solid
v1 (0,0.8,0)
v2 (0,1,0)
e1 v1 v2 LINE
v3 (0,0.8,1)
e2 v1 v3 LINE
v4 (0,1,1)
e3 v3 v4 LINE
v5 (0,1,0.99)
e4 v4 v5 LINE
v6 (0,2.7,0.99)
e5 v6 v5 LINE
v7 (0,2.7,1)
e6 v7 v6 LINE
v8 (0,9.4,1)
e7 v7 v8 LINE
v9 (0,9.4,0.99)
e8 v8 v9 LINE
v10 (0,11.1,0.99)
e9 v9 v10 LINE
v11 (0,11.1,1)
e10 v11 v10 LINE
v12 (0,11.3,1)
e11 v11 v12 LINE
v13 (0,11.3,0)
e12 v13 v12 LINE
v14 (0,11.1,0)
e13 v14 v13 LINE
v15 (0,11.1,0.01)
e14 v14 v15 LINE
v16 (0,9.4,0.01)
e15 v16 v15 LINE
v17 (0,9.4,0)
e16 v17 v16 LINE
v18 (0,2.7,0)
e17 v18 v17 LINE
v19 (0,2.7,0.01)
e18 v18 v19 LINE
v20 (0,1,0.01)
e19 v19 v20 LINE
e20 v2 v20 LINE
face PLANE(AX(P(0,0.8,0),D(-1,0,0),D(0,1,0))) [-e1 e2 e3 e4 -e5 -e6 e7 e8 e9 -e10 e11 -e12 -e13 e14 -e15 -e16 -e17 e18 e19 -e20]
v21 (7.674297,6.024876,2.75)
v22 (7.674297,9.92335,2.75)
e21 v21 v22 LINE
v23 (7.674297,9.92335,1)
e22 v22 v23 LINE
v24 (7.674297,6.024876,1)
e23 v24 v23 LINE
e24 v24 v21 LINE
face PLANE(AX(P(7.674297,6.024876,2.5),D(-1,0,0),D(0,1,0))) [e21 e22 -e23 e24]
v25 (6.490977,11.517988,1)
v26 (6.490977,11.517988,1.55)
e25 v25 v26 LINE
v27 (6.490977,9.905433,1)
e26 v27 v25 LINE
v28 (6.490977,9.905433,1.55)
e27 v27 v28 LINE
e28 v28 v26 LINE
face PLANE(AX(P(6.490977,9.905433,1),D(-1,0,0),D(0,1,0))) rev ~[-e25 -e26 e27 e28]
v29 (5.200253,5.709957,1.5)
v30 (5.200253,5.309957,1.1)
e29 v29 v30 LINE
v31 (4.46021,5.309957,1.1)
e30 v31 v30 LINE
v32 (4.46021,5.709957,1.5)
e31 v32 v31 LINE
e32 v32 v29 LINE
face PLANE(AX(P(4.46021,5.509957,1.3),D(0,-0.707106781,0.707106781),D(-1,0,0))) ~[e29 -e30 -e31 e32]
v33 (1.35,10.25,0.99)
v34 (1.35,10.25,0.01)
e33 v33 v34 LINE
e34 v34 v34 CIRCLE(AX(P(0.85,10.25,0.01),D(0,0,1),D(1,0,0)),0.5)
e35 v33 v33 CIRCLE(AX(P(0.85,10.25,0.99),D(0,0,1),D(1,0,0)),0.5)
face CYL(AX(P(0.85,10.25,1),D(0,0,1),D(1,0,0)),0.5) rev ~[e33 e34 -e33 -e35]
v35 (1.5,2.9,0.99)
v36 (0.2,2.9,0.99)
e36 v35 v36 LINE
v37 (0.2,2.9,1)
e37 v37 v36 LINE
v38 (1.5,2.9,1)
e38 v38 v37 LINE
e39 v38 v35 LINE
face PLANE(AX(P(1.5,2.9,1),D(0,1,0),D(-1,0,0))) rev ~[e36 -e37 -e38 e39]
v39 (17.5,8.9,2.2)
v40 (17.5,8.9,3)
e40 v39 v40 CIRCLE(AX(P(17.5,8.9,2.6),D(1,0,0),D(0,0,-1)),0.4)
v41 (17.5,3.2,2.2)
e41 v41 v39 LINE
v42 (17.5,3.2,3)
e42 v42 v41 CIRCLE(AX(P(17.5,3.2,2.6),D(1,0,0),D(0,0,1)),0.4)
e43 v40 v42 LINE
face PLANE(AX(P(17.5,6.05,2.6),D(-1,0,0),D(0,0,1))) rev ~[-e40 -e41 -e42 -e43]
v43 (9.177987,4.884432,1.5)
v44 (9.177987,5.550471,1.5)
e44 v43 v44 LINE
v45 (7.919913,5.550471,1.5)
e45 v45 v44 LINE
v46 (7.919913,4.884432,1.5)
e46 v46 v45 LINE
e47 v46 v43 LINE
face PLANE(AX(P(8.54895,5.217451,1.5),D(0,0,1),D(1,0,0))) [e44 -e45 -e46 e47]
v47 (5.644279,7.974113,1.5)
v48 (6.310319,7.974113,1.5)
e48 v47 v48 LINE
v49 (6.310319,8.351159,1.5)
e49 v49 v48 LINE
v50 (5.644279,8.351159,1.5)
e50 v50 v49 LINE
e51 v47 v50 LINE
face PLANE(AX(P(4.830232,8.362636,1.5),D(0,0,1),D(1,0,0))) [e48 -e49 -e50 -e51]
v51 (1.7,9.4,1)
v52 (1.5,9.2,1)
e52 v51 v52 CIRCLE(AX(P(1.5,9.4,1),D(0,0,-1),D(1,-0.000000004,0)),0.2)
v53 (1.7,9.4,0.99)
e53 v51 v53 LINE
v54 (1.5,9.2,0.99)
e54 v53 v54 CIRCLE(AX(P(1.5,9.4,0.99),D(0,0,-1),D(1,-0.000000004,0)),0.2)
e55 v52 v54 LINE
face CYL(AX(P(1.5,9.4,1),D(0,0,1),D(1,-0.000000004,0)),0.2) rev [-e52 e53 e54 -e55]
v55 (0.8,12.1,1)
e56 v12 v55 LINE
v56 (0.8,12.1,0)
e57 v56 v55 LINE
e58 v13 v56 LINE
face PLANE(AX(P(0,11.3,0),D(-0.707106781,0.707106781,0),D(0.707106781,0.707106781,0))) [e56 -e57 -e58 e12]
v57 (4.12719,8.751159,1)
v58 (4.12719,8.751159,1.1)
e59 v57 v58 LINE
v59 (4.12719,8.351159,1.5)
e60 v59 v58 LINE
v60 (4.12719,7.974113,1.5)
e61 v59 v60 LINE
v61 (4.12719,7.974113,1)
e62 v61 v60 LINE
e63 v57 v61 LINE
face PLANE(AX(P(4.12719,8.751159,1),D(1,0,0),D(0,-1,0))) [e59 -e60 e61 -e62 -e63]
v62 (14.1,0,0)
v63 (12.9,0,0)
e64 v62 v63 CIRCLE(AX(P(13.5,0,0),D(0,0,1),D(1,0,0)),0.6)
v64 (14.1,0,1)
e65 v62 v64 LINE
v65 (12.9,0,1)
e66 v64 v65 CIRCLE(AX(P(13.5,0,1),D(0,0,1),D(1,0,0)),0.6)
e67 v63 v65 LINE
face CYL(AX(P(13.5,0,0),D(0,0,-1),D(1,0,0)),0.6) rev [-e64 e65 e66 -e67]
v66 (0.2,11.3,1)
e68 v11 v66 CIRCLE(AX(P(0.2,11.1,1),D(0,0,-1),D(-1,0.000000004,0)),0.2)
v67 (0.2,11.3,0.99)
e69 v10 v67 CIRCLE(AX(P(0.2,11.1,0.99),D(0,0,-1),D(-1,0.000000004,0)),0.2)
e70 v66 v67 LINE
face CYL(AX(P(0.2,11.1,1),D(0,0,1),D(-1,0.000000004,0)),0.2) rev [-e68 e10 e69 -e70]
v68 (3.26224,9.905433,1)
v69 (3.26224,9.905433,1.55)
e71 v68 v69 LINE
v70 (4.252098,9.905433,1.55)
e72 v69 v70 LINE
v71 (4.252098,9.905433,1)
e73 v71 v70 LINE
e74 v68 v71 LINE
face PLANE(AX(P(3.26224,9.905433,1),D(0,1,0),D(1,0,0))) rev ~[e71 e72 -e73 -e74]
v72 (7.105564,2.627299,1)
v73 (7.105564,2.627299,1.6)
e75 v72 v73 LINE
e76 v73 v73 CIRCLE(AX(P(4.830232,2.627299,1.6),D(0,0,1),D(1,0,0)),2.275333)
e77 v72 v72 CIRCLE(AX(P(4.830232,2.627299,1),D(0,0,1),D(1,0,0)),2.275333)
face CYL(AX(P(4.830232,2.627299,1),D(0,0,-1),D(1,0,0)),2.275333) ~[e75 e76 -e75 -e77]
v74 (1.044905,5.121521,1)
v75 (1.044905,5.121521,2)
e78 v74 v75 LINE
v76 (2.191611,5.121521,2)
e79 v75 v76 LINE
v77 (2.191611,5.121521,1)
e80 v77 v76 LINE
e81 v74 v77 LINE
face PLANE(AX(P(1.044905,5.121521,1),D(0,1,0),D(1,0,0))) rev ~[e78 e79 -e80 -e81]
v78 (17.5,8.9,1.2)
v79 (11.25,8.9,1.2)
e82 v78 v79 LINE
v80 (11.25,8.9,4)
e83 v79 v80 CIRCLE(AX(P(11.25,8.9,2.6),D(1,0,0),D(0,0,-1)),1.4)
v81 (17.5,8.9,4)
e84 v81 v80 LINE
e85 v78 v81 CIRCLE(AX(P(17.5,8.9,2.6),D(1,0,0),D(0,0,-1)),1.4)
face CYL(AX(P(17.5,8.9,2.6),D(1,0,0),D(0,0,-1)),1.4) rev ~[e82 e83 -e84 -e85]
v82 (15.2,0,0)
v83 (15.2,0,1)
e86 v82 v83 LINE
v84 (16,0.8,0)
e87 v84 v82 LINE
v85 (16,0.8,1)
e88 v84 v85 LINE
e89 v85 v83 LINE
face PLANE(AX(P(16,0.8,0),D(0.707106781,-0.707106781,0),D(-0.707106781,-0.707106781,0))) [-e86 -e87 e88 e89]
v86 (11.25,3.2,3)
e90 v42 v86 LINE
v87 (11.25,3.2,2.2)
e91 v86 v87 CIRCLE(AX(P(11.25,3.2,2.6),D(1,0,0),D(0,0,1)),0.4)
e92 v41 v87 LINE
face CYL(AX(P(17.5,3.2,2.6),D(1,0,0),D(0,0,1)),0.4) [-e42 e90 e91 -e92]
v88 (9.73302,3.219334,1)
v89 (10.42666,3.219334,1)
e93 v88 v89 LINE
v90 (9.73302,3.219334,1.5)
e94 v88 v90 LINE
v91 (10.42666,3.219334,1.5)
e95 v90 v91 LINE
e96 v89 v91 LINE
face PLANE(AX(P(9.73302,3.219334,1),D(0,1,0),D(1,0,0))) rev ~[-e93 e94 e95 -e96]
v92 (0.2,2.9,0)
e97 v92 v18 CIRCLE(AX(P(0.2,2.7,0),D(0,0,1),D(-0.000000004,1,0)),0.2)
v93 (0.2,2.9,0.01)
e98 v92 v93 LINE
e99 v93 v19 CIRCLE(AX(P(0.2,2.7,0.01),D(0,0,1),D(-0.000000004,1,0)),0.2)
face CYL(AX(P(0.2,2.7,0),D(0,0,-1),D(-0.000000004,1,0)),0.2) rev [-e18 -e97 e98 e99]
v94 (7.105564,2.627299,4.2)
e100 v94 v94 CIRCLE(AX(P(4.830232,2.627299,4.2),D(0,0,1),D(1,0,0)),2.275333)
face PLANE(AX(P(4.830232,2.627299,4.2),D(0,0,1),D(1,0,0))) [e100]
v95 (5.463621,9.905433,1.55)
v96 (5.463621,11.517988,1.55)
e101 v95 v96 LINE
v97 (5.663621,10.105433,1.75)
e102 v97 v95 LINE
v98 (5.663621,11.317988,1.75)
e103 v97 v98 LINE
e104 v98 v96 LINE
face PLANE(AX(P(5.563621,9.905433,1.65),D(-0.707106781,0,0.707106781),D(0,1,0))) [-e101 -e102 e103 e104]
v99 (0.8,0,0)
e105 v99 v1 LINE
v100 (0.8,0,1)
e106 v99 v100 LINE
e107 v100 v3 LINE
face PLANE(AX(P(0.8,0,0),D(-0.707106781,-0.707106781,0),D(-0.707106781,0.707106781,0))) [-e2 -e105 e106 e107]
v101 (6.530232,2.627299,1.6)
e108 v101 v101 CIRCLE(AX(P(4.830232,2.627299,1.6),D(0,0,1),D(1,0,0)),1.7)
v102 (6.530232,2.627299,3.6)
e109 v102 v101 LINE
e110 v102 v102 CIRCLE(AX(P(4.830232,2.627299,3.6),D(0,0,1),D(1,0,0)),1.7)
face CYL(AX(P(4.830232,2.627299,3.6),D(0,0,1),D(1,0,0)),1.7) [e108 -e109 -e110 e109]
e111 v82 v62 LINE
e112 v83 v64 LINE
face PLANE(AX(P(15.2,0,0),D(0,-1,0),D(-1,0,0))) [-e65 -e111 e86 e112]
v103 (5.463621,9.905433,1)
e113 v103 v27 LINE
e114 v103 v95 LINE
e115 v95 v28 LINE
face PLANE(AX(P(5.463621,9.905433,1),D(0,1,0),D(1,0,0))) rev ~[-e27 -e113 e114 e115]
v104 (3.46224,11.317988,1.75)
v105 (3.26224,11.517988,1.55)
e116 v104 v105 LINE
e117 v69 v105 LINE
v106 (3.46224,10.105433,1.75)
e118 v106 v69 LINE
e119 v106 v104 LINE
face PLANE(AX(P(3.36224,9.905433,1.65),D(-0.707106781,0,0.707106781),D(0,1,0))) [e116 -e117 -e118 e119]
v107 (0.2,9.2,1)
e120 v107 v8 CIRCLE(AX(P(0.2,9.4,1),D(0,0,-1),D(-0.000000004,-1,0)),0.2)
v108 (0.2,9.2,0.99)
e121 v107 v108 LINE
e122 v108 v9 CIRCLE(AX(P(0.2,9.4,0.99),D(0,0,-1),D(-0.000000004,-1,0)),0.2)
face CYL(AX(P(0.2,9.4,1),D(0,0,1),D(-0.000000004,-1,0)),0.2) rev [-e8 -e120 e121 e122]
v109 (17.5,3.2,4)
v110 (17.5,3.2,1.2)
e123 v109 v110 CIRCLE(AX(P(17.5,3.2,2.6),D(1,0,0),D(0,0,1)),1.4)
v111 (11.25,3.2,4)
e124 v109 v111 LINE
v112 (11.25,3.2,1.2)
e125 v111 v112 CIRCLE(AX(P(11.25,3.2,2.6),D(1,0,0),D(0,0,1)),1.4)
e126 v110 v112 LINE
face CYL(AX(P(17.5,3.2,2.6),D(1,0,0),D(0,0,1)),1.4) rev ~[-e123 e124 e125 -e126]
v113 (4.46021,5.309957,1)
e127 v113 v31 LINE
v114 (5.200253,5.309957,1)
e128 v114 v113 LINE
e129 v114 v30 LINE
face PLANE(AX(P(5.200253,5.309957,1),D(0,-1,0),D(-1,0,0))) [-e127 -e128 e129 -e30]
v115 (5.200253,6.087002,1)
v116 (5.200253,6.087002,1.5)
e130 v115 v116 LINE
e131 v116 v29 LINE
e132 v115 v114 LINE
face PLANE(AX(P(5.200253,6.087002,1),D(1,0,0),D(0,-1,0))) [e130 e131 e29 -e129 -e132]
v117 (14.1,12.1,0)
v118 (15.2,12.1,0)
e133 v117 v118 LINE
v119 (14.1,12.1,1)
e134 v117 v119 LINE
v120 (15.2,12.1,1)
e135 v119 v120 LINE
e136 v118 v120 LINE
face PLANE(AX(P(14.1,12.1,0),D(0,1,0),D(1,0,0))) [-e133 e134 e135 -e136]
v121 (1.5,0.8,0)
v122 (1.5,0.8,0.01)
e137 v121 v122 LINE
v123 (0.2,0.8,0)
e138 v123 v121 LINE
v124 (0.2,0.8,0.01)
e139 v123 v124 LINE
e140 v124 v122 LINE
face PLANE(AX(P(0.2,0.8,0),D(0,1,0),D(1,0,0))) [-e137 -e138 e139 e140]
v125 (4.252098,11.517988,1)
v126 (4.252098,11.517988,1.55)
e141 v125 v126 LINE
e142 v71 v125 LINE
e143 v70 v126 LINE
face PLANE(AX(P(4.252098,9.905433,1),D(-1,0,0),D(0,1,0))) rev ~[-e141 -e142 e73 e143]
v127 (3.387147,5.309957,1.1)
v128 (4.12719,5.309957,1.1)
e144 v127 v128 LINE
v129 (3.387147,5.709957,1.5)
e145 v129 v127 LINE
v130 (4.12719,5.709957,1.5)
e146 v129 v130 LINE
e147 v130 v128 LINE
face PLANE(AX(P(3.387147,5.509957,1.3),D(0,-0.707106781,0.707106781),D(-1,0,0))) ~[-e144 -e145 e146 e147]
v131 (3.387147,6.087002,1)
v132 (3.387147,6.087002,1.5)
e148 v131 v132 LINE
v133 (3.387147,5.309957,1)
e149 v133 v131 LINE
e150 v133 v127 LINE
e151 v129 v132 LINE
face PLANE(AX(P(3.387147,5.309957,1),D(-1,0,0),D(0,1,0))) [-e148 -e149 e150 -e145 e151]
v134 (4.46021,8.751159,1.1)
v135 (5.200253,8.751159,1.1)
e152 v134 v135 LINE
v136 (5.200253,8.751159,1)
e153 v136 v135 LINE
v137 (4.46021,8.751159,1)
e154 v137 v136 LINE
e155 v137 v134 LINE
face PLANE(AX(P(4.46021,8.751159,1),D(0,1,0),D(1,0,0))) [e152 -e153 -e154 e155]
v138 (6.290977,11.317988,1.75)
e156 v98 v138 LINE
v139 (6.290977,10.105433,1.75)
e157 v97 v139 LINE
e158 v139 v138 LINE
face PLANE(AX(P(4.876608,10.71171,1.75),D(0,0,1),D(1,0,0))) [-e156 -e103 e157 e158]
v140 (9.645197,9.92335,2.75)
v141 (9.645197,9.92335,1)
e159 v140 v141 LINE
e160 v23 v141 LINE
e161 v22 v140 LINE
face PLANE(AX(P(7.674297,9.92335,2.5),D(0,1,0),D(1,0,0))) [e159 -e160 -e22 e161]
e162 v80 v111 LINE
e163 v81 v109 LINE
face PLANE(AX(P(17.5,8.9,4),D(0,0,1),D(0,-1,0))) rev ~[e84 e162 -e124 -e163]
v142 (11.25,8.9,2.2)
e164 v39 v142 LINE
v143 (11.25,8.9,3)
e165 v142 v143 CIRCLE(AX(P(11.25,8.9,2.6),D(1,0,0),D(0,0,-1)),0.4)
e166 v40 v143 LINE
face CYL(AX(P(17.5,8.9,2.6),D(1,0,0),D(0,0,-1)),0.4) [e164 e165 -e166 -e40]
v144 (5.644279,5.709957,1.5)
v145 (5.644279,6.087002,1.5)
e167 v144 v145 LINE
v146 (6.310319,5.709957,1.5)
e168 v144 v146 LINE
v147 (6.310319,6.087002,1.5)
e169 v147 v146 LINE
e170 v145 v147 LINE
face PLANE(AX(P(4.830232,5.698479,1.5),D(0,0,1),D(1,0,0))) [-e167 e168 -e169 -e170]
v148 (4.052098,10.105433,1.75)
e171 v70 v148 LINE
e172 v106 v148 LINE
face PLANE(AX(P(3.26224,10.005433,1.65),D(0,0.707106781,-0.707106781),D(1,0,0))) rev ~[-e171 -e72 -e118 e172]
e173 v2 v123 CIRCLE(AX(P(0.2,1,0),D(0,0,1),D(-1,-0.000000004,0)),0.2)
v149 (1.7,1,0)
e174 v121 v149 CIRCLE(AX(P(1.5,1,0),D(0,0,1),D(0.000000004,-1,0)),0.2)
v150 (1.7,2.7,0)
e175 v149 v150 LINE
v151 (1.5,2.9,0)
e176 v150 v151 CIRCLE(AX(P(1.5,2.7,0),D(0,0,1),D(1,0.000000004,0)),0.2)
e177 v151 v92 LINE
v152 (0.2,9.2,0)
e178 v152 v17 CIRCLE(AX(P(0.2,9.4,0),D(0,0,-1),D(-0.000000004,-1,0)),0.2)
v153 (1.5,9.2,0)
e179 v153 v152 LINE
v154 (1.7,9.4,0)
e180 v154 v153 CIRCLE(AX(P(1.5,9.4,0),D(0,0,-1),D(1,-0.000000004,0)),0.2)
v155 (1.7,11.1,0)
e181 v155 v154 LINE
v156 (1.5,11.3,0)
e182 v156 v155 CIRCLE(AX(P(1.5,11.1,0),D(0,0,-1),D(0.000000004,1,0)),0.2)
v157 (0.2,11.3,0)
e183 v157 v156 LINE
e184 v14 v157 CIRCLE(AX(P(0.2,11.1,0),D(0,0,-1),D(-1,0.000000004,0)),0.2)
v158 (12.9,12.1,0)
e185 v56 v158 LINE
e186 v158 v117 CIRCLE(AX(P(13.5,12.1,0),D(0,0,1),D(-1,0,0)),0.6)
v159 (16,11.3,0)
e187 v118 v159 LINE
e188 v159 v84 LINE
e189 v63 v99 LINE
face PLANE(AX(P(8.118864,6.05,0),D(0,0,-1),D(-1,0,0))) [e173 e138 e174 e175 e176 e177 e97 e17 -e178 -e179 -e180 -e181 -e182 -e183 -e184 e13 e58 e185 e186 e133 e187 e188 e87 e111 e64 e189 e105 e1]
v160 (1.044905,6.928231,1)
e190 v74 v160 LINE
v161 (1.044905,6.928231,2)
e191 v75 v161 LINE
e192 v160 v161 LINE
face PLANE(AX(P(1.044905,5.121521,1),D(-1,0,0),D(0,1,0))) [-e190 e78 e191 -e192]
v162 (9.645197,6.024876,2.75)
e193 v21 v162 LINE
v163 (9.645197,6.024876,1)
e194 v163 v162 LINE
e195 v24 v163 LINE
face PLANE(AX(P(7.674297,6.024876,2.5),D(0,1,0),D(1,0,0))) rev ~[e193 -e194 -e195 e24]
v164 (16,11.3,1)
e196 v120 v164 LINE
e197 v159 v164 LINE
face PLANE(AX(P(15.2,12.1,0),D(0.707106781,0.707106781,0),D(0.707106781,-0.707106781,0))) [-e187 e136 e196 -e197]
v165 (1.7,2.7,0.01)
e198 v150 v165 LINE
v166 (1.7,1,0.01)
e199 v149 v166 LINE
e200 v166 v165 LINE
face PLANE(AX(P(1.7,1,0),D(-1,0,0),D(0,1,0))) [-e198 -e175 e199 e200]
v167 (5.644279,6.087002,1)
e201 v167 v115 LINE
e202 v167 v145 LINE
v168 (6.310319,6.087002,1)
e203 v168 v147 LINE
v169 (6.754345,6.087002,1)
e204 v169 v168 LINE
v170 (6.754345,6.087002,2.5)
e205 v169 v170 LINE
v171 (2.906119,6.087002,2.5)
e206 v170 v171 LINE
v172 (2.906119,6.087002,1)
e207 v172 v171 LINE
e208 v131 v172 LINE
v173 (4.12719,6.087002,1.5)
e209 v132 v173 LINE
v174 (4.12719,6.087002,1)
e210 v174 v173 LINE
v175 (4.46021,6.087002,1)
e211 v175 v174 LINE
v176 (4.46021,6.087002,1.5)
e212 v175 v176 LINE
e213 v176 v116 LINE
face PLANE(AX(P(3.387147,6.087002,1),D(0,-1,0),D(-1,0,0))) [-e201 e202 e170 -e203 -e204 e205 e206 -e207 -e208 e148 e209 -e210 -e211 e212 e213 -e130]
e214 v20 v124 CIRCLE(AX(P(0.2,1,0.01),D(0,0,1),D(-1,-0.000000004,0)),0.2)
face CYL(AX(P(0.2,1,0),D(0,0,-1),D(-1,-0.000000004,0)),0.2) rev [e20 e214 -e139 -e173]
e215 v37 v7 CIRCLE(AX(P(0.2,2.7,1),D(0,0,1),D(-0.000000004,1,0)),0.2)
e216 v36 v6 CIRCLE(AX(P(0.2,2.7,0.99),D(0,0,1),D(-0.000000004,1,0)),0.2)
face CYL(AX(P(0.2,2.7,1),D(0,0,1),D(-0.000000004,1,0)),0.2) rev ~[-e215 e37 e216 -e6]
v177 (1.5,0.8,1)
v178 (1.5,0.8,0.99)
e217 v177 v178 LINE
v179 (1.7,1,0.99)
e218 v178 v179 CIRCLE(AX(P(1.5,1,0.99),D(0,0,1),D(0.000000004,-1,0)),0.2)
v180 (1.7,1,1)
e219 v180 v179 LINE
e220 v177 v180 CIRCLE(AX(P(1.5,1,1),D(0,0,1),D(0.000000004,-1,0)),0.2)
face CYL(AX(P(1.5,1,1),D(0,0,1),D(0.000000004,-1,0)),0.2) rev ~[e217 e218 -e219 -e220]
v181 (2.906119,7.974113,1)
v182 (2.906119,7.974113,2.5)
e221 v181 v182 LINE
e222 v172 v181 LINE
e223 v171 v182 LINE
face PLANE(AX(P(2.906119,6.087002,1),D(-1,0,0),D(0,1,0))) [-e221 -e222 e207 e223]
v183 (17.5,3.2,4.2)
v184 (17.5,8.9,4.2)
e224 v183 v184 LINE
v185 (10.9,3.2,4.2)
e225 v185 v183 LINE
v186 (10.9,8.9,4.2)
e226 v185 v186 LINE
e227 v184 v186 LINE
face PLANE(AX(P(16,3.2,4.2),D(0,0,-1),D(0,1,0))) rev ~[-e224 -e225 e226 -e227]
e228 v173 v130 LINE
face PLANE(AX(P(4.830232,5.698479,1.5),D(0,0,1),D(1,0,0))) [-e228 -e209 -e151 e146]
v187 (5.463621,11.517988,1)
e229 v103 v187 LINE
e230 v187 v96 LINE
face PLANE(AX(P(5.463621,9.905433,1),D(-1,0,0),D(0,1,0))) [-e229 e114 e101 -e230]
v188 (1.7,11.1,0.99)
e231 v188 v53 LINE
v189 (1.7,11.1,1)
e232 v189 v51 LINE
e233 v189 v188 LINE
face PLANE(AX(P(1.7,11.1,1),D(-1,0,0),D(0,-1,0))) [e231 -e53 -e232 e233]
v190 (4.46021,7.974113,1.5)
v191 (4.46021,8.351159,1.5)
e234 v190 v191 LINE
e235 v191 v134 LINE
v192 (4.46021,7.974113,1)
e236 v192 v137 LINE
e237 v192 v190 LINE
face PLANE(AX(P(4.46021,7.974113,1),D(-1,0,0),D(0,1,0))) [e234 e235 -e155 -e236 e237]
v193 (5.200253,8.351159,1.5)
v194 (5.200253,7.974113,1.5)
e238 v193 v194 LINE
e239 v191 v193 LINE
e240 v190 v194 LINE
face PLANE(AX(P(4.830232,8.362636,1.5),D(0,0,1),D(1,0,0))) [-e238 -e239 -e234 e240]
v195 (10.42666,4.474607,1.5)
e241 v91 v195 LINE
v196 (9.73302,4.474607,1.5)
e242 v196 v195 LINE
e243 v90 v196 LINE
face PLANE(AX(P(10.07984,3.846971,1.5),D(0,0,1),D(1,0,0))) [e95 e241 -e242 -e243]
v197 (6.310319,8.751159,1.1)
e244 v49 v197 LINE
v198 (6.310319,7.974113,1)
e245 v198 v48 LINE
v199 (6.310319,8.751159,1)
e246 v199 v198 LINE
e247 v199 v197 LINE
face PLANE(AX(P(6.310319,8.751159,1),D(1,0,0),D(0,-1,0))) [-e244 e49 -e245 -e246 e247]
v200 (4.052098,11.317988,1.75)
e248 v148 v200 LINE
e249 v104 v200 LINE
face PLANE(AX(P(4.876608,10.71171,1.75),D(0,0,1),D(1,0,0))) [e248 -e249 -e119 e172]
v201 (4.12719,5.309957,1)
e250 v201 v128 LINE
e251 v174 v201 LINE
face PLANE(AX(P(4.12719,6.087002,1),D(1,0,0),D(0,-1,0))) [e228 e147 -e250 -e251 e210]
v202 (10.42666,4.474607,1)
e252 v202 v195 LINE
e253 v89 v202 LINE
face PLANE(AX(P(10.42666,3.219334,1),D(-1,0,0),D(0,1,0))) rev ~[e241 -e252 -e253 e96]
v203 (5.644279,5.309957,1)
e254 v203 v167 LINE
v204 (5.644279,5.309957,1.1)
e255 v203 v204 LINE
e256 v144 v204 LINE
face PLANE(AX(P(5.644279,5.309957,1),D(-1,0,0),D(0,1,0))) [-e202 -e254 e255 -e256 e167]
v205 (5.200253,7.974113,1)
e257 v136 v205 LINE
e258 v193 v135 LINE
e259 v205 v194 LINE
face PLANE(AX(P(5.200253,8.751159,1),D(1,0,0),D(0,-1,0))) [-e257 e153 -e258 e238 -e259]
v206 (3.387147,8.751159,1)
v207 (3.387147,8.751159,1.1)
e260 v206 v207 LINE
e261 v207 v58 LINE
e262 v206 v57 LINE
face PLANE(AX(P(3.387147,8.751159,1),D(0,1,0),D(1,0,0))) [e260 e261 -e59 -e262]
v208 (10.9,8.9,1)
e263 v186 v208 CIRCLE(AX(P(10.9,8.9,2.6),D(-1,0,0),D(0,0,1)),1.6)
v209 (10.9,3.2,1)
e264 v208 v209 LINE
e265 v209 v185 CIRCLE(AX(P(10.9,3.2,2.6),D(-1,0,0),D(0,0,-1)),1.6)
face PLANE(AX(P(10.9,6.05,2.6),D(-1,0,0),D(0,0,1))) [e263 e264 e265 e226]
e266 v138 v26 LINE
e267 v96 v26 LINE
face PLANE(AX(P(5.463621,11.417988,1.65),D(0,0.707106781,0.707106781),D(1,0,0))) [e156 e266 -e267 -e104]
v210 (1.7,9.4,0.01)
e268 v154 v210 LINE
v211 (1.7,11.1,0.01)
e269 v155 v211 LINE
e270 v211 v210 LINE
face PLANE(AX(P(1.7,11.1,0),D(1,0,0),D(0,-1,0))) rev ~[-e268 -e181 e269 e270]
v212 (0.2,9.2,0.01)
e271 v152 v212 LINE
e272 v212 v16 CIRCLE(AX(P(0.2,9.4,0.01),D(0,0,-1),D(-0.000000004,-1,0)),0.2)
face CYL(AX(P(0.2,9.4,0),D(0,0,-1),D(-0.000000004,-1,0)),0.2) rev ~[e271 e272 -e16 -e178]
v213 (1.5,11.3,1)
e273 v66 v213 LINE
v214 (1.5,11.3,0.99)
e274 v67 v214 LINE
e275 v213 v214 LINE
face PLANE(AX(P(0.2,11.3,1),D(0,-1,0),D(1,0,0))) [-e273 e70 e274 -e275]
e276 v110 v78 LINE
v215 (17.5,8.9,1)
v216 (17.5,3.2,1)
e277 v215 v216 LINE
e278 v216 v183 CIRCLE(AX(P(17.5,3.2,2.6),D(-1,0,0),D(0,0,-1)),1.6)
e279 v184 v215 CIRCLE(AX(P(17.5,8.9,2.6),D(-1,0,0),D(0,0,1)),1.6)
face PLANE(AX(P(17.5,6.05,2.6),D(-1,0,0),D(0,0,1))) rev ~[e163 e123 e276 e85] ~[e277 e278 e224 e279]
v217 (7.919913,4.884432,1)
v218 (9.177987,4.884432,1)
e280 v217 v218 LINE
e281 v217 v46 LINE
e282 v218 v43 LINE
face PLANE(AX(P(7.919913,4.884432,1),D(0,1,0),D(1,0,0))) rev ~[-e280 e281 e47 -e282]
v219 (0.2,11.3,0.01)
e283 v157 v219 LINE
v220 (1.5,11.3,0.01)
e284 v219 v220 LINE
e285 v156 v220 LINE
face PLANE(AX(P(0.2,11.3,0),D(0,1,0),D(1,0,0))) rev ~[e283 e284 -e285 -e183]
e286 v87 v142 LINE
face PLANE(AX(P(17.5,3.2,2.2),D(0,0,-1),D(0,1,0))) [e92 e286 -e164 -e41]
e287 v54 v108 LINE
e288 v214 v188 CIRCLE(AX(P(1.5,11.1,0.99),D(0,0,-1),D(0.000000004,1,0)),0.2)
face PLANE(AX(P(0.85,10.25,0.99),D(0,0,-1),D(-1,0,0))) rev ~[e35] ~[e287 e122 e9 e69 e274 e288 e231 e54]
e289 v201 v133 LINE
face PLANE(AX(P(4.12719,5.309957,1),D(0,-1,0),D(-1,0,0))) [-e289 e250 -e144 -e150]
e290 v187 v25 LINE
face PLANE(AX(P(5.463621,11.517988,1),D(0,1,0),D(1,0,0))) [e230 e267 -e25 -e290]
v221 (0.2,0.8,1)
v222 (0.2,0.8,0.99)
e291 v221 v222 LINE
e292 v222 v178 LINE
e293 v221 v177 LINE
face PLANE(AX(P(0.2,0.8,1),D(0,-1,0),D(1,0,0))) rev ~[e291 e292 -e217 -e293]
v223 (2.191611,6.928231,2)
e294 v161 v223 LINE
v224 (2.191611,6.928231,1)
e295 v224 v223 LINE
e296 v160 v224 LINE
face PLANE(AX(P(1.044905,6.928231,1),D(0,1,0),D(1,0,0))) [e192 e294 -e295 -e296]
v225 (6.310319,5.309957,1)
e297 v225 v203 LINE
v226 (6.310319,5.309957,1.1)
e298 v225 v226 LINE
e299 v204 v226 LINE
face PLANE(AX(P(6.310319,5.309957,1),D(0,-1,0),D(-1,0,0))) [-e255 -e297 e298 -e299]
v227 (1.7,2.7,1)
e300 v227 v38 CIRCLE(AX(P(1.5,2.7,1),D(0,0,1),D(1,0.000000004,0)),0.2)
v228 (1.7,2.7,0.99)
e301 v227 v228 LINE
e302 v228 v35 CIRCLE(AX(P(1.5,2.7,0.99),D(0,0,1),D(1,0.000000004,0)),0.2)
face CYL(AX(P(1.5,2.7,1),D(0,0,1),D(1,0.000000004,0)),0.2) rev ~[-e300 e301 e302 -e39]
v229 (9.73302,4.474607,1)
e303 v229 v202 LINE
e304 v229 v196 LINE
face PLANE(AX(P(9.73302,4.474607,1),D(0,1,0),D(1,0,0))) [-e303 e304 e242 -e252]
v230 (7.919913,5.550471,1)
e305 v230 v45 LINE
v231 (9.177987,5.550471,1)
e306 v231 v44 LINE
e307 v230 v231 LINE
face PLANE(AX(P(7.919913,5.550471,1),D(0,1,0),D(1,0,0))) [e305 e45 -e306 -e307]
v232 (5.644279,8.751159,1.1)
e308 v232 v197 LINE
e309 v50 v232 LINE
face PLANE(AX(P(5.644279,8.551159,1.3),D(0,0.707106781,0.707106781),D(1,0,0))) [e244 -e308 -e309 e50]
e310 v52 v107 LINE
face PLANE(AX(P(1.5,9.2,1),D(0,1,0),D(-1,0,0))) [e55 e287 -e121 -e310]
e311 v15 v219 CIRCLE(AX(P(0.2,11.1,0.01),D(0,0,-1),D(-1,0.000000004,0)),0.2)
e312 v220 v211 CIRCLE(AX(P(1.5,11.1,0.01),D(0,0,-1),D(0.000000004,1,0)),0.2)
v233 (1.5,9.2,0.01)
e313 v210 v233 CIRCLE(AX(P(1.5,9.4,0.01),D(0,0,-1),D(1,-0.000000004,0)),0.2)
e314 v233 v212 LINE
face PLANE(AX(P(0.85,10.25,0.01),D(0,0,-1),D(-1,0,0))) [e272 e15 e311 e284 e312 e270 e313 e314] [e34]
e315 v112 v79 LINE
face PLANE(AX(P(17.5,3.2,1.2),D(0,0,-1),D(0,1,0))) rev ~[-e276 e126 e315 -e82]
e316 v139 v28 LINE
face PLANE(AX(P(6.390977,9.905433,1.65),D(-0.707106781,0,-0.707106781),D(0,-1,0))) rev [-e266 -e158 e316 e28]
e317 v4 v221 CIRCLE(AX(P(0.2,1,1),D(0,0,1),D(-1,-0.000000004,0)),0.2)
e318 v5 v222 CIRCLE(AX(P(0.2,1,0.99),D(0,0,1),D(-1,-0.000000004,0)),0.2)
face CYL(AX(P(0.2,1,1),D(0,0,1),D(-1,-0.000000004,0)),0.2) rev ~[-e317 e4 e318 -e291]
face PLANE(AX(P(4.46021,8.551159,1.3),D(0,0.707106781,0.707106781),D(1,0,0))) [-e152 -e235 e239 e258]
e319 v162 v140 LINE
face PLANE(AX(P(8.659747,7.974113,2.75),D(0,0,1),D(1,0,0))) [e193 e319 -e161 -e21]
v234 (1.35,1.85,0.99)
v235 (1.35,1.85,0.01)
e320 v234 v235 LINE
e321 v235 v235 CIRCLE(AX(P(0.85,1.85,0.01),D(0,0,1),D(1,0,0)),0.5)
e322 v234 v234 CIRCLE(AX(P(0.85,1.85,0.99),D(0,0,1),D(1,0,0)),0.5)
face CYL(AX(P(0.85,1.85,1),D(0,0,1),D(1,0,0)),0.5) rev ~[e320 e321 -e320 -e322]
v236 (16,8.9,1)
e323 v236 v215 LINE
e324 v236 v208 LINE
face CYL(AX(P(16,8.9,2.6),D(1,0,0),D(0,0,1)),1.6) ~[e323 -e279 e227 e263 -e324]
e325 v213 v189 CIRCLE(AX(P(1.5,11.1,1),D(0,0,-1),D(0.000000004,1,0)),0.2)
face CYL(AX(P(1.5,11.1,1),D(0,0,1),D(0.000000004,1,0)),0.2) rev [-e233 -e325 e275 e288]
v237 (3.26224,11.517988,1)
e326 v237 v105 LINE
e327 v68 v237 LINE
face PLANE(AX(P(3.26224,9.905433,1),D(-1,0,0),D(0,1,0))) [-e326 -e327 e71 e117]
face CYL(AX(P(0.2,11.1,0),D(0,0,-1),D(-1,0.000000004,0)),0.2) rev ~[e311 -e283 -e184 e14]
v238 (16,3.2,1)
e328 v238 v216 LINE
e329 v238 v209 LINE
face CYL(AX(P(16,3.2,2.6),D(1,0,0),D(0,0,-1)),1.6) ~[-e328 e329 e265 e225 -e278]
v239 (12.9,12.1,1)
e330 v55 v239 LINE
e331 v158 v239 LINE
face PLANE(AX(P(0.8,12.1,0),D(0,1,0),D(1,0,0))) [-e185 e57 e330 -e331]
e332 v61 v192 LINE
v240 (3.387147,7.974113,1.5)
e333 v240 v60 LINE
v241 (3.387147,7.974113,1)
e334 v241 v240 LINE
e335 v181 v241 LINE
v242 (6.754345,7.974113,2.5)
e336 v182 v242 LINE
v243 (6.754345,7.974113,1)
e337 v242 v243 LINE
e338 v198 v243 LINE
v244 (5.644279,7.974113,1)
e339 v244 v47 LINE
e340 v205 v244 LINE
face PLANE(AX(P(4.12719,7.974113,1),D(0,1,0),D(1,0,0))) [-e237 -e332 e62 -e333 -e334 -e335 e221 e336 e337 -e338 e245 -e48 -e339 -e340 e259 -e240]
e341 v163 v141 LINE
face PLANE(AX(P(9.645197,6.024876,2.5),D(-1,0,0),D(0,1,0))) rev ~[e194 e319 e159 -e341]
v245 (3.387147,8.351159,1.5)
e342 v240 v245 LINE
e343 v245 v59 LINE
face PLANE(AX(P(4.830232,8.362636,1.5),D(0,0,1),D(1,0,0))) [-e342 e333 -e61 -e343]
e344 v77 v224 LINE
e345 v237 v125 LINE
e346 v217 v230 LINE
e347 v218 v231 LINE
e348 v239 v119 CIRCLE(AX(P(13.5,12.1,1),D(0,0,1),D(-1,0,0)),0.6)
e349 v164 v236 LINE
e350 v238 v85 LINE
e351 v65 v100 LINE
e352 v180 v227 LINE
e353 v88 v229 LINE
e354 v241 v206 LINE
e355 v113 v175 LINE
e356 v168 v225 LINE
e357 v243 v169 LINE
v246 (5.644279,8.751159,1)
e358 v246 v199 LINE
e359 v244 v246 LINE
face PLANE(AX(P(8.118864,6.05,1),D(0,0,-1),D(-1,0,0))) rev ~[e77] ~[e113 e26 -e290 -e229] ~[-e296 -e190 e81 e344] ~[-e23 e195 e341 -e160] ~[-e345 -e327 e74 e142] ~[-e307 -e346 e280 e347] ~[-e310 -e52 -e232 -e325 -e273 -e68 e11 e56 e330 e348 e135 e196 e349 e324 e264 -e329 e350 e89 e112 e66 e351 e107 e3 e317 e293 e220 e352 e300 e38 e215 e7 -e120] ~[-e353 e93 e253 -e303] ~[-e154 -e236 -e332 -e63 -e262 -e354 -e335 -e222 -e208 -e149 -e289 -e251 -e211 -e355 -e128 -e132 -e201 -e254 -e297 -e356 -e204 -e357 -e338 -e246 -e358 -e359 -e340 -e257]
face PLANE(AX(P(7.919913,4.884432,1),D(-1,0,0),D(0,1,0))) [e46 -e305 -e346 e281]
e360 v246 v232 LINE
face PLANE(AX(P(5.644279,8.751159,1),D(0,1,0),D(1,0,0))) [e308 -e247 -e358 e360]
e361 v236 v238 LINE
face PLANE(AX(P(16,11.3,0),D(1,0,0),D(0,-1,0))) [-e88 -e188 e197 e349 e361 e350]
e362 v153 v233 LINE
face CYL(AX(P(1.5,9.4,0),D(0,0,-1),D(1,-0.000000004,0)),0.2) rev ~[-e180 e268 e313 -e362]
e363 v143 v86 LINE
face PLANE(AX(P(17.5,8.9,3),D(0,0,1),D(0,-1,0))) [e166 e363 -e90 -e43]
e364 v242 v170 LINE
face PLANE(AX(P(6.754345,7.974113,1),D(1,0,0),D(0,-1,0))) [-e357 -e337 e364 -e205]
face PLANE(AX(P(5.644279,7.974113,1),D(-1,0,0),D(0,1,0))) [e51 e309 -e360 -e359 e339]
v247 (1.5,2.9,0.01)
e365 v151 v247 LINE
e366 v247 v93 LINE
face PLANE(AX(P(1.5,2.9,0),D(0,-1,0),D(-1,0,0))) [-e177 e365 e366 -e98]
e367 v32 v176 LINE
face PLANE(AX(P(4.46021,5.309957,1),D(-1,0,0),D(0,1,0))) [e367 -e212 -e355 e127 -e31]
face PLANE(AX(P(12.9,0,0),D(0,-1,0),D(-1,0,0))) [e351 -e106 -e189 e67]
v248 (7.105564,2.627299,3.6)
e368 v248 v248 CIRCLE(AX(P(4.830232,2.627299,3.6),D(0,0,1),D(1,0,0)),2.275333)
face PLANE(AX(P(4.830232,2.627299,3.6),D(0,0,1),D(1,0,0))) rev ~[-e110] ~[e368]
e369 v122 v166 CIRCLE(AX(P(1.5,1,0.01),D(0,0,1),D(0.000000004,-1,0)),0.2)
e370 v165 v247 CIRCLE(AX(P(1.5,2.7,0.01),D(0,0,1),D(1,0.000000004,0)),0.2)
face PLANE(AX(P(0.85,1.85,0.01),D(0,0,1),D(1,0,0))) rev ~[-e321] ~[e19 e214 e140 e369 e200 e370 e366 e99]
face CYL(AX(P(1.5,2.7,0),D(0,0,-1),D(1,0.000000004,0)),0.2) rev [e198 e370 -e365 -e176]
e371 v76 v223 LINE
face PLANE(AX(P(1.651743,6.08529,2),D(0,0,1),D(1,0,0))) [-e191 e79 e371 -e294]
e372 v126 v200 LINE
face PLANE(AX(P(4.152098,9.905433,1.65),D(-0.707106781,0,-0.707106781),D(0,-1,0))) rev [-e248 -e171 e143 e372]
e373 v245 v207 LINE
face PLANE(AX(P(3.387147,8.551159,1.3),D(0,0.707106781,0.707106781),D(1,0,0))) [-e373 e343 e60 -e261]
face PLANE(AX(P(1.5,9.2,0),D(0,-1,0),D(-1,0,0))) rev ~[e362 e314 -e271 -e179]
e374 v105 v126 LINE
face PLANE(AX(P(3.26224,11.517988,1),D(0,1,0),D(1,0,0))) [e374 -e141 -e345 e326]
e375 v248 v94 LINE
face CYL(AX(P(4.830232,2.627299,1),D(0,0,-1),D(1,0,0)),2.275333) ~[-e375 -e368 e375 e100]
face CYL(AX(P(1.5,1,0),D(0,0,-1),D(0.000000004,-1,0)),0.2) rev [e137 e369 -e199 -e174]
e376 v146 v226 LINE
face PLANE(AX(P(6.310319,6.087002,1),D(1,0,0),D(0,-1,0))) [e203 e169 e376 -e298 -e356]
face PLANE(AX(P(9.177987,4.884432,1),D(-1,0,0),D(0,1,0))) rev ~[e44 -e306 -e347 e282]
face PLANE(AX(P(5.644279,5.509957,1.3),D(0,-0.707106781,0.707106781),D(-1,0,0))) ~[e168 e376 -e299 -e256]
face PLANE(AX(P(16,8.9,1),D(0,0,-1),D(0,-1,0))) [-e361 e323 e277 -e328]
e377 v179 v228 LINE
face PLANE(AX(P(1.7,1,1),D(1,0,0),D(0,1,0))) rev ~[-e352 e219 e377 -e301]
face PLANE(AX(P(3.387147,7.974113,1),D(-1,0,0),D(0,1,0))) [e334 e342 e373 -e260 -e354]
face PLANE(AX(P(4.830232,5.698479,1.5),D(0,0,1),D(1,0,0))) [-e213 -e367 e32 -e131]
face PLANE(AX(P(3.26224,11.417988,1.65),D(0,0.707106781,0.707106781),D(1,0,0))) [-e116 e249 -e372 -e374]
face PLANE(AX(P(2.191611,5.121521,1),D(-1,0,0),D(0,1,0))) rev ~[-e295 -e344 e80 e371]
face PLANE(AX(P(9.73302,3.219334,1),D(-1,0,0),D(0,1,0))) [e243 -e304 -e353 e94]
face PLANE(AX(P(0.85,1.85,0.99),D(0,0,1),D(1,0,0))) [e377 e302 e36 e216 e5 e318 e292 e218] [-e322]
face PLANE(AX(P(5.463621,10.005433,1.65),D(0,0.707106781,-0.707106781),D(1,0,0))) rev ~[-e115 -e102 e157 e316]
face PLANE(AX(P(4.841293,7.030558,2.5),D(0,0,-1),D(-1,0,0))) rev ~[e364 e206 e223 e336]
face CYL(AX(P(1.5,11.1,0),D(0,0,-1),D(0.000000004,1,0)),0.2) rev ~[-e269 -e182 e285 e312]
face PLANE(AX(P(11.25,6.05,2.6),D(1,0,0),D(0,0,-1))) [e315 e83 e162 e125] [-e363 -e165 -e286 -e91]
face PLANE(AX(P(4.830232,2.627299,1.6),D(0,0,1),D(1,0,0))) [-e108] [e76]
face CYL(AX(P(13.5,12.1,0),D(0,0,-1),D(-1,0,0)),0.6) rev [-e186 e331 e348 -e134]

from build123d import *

# Parameters (mm, degrees)
BOSS_EXTRU_1_DEPTH      = 1
ESQUISSE2_R             = 0.5
ENL_V_MAT_EXTRU_1_DEPTH = 10
ENL_V_MAT_EXTRU_2_DEPTH = 0.01
ENL_V_START             = -1
ENL_V_MAT_EXTRU_3_DEPTH = 0.01
BOSS_EXTRU_2_DEPTH      = 1.5
BOSS_EXTRU_2_DEPTH_BACK = 5.1
ESQUISSE5_R             = 2.275332805
BOSS_EXTRU_3_DEPTH      = 3.2
ENL_V_START_2           = -0.6
ESQUISSE6_R             = 2.275332805
ESQUISSE6_R_2           = 1.7
ENL_V_MAT_EXTRU_4_DEPTH = 2
ESQUISSE7_W             = 1.97090018
ESQUISSE7_H             = 3.898474417
ESQUISSE7_W_2           = 0.989857895
ESQUISSE7_H_2           = 1.612554693
ESQUISSE7_W_3           = 1.027355852
ESQUISSE7_W_4           = 1.146705559
ESQUISSE7_H_3           = 1.806710228
BOSS_EXTRU_4_DEPTH      = 1.5
ESQUISSE8_W             = 1.25807389
ESQUISSE8_H             = 0.666039119
ESQUISSE8_W_2           = 0.69364074
ESQUISSE8_H_2           = 1.255273727
BOSS_EXTRU_5_DEPTH      = 0.5
ESQUISSE9_W             = 3.84822602
ESQUISSE9_H             = 0.777045638
ENL_V_MAT_EXTRU_5_DEPTH = 1
CHANFREIN1_SIZE         = 0.4
ESQUISSE10_W            = 3.228737269
ESQUISSE10_H            = 1.612554693
ENL_V_MAT_EXTRU_6_DEPTH = 0.75
ESQUISSE11_W            = 1.213675147
ESQUISSE11_H            = 1.927537991
ENL_V_MAT_EXTRU_7_DEPTH = 0.5
ESQUISSE12_W            = 1.97090018
ESQUISSE12_H            = 3.898474417
BOSS_EXTRU_6_DEPTH      = 0.25
CHANFREIN2_SIZE         = 0.2
ENL_V_MAT_EXTRU_8_DEPTH = 6.25


with BuildPart() as part:
    # Esquisse1 → Boss.-Extru.1 (new body)
    with BuildSketch(Plane.XY):
        with BuildLine():
            Line((0, 11.3), (0.8, 12.1))
            Line((0.8, 12.1), (12.9, 12.1))
            ThreePointArc((12.9, 12.1), (13.5, 11.5), (14.1, 12.1))
            Line((14.1, 12.1), (15.2, 12.1))
            Line((15.2, 12.1), (16, 11.3))
            Line((16, 11.3), (16, 0.8))
            Line((16, 0.8), (15.2, 0))
            Line((15.2, 0), (14.1, 0))
            ThreePointArc((14.1, 0), (13.5, 0.6), (12.9, 0))
            Line((12.9, 0), (0.8, 0))
            Line((0.8, 0), (0, 0.8))
            Line((0, 0.8), (0, 11.3))
        make_face()
    extrude(amount=BOSS_EXTRU_1_DEPTH)

    # Esquisse2 → Enl_v. mat.-Extru.1 (cut)
    with BuildSketch(Plane.XY.offset(1)):
        with Locations((0.85, 10.25)):
            Circle(ESQUISSE2_R)
        with Locations((0.85, 1.85)):
            Circle(ESQUISSE2_R)
    extrude(amount=-ENL_V_MAT_EXTRU_1_DEPTH, mode=Mode.SUBTRACT)

    # Esquisse3 → Enl_v. mat.-Extru.2 (cut)
    with BuildSketch(Plane.XY.offset(1)):
        with BuildLine():
            Line((1.5, 9.2), (0.2, 9.2))
            ThreePointArc((0.2, 9.2), (0.058578644, 9.258578644), (0, 9.4))
            Line((0, 9.4), (0, 11.1))
            ThreePointArc((0, 11.1), (0.058578644, 11.241421356), (0.2, 11.3))
            Line((0.2, 11.3), (1.5, 11.3))
            ThreePointArc((1.5, 11.3), (1.641421356, 11.241421356), (1.7, 11.1))
            Line((1.7, 11.1), (1.7, 9.4))
            ThreePointArc((1.7, 9.4), (1.641421356, 9.258578644), (1.5, 9.2))
        make_face()
        with BuildLine():
            Line((1.5, 2.9), (0.2, 2.9))
            ThreePointArc((0.2, 2.9), (0.058578644, 2.841421356), (0, 2.7))
            Line((0, 2.7), (0, 1))
            ThreePointArc((0, 1), (0.058578644, 0.858578644), (0.2, 0.8))
            Line((0.2, 0.8), (1.5, 0.8))
            ThreePointArc((1.5, 0.8), (1.641421356, 0.858578644), (1.7, 1))
            Line((1.7, 1), (1.7, 2.7))
            ThreePointArc((1.7, 2.7), (1.641421356, 2.841421356), (1.5, 2.9))
        make_face()
    extrude(amount=-ENL_V_MAT_EXTRU_2_DEPTH, mode=Mode.SUBTRACT)

    # Esquisse3_2 → Enl_v. mat.-Extru.3 (cut)
    with BuildSketch(Plane.XY.offset(1).offset(ENL_V_START)):
        with BuildLine():
            Line((1.5, 9.2), (0.2, 9.2))
            ThreePointArc((0.2, 9.2), (0.058578644, 9.258578644), (0, 9.4))
            Line((0, 9.4), (0, 11.1))
            ThreePointArc((0, 11.1), (0.058578644, 11.241421356), (0.2, 11.3))
            Line((0.2, 11.3), (1.5, 11.3))
            ThreePointArc((1.5, 11.3), (1.641421356, 11.241421356), (1.7, 11.1))
            Line((1.7, 11.1), (1.7, 9.4))
            ThreePointArc((1.7, 9.4), (1.641421356, 9.258578644), (1.5, 9.2))
        make_face()
        with BuildLine():
            Line((1.5, 2.9), (0.2, 2.9))
            ThreePointArc((0.2, 2.9), (0.058578644, 2.841421356), (0, 2.7))
            Line((0, 2.7), (0, 1))
            ThreePointArc((0, 1), (0.058578644, 0.858578644), (0.2, 0.8))
            Line((0.2, 0.8), (1.5, 0.8))
            ThreePointArc((1.5, 0.8), (1.641421356, 0.858578644), (1.7, 1))
            Line((1.7, 1), (1.7, 2.7))
            ThreePointArc((1.7, 2.7), (1.641421356, 2.841421356), (1.5, 2.9))
        make_face()
    extrude(amount=ENL_V_MAT_EXTRU_3_DEPTH, mode=Mode.SUBTRACT)

    # Esquisse4 → Boss.-Extru.2 (add, two sides)
    with BuildSketch(Plane(origin=(16, 0, 0), x_dir=(0, 0, -1), z_dir=(1, 0, 0))) as boss_extru_2_sk:
        with BuildLine():
            Line((-4.2, 3.2), (-4.2, 8.9))
            ThreePointArc((-4.2, 8.9), (-2.6, 10.5), (-1, 8.9))
            Line((-1, 8.9), (-1, 3.2))
            ThreePointArc((-1, 3.2), (-2.6, 1.6), (-4.2, 3.2))
        make_face()
    extrude(amount=BOSS_EXTRU_2_DEPTH)
    extrude(boss_extru_2_sk.sketch, amount=-BOSS_EXTRU_2_DEPTH_BACK)

    # Esquisse5 → Boss.-Extru.3 (add)
    with BuildSketch(Plane.XY.offset(1)):
        with Locations((4.830231602, 2.627298973)):
            Circle(ESQUISSE5_R)
    extrude(amount=BOSS_EXTRU_3_DEPTH)

    # Esquisse6 → Enl_v. mat.-Extru.4 (cut)
    with BuildSketch(Plane.XY.offset(4.2).offset(ENL_V_START_2)):
        with Locations((4.830231602, 2.627298973)):
            Circle(ESQUISSE6_R)
        with Locations((4.830231602, 2.627298973)):
            Circle(ESQUISSE6_R_2, mode=Mode.SUBTRACT)
    extrude(amount=-ENL_V_MAT_EXTRU_4_DEPTH, mode=Mode.SUBTRACT)

    # Esquisse7 → Boss.-Extru.4 (add)
    with BuildSketch(Plane.XY.offset(1)):
        Polygon((4.12719031, 7.97411301), (4.460209869, 7.97411301), (4.460209869, 8.751158648), (5.200253335, 8.751158648), (5.200253335, 7.97411301), (5.644279414, 7.97411301), (5.644279414, 8.751158648), (6.310318533, 8.751158648), (6.310318533, 7.97411301), (6.754344612, 7.97411301), (6.754344612, 6.087002173), (6.310318533, 6.087002173), (6.310318533, 5.309956535), (5.644279414, 5.309956535), (5.644279414, 6.087002173), (5.200253335, 6.087002173), (5.200253335, 5.309956535), (4.460209869, 5.309956535), (4.460209869, 6.087002173), (4.12719031, 6.087002173), (4.12719031, 5.309956535), (3.387146845, 5.309956535), (3.387146845, 6.087002173), (2.906118592, 6.087002173), (2.906118592, 7.97411301), (3.387146845, 7.97411301), (3.387146845, 8.751158648), (4.12719031, 8.751158648), align=None)
        with Locations((8.659747019, 7.97411301)):
            Rectangle(ESQUISSE7_W, ESQUISSE7_H)
        with Locations((3.757168577, 10.711710291)):
            Rectangle(ESQUISSE7_W_2, ESQUISSE7_H_2)
        with Locations((5.977298973, 10.711710291)):
            Rectangle(ESQUISSE7_W_3, ESQUISSE7_H_2)
        with Locations((1.618258193, 6.024875801)):
            Rectangle(ESQUISSE7_W_4, ESQUISSE7_H_3)
    extrude(amount=BOSS_EXTRU_4_DEPTH)

    # Esquisse8 → Boss.-Extru.5 (add)
    with BuildSketch(Plane.XY.offset(1)):
        with Locations((8.548950015, 5.217451102)):
            Rectangle(ESQUISSE8_W, ESQUISSE8_H)
        with Locations((10.079839929, 3.846970609)):
            Rectangle(ESQUISSE8_W_2, ESQUISSE8_H_2)
    extrude(amount=BOSS_EXTRU_5_DEPTH)

    # Esquisse9 → Enl_v. mat.-Extru.5 (cut)
    with BuildSketch(Plane.XY.offset(2.5)):
        with Locations((4.830231602, 8.362635829)):
            Rectangle(ESQUISSE9_W, ESQUISSE9_H)
        with Locations((4.830231602, 5.698479354)):
            Rectangle(ESQUISSE9_W, ESQUISSE9_H)
    extrude(amount=-ENL_V_MAT_EXTRU_5_DEPTH, mode=Mode.SUBTRACT)

    # Chanfrein1
    chanfrein1_edges = [part.edges().sort_by_distance(p)[0] for p in [
        (3.757168577, 5.309956535, 1.5),
        (4.830231602, 5.309956535, 1.5),
        (5.977298973, 5.309956535, 1.5),
        (5.977298973, 8.751158648, 1.5),
        (4.830231602, 8.751158648, 1.5),
        (3.757168577, 8.751158648, 1.5),
    ]]
    chamfer(chanfrein1_edges, length=CHANFREIN1_SIZE)

    # Esquisse10 → Enl_v. mat.-Extru.6 (cut)
    with BuildSketch(Plane.XY.offset(2.5)):
        with Locations((4.876608265, 10.711710291)):
            Rectangle(ESQUISSE10_W, ESQUISSE10_H)
    extrude(amount=-ENL_V_MAT_EXTRU_6_DEPTH, mode=Mode.SUBTRACT)

    # Esquisse11 → Enl_v. mat.-Extru.7 (cut)
    with BuildSketch(Plane.XY.offset(2.5)):
        with Locations((1.651742986, 6.085289683)):
            Rectangle(ESQUISSE11_W, ESQUISSE11_H)
    extrude(amount=-ENL_V_MAT_EXTRU_7_DEPTH, mode=Mode.SUBTRACT)

    # Esquisse12 → Boss.-Extru.6 (add)
    with BuildSketch(Plane.XY.offset(2.5)):
        with Locations((8.659747019, 7.97411301)):
            Rectangle(ESQUISSE12_W, ESQUISSE12_H)
    extrude(amount=BOSS_EXTRU_6_DEPTH)

    # Chanfrein2
    chanfrein2_edges = [part.edges().sort_by_distance(p)[0] for p in [
        (4.252097525, 10.71171029, 1.75),
        (5.463621047, 10.71171029, 1.75),
        (3.757168577, 9.905432944, 1.75),
        (5.977298973, 9.905432944, 1.75),
        (3.757168577, 11.517987637, 1.75),
        (5.977298973, 11.517987637, 1.75),
        (6.490976899, 10.71171029, 1.75),
        (3.26223963, 10.71171029, 1.75),
    ]]
    chamfer(chanfrein2_edges, length=CHANFREIN2_SIZE)

    # Esquisse13 → Enl_v. mat.-Extru.8 (cut)
    with BuildSketch(Plane(origin=(17.5, 0, 0), x_dir=(0, 0, -1), z_dir=(1, 0, 0))):
        with BuildLine():
            Line((-1.2, 3.2), (-1.2, 8.9))
            ThreePointArc((-1.2, 8.9), (-2.6, 10.3), (-4, 8.9))
            Line((-4, 8.9), (-4, 3.2))
            ThreePointArc((-4, 3.2), (-2.6, 1.8), (-1.2, 3.2))
        make_face()
        with BuildLine():
            Line((-2.2, 3.2), (-2.2, 8.9))
            ThreePointArc((-2.2, 8.9), (-2.6, 9.3), (-3, 8.9))
            Line((-3, 8.9), (-3, 3.2))
            ThreePointArc((-3, 3.2), (-2.6, 2.8), (-2.2, 3.2))
        make_face(mode=Mode.SUBTRACT)
    extrude(amount=-ENL_V_MAT_EXTRU_8_DEPTH, mode=Mode.SUBTRACT)


solid = part.part
